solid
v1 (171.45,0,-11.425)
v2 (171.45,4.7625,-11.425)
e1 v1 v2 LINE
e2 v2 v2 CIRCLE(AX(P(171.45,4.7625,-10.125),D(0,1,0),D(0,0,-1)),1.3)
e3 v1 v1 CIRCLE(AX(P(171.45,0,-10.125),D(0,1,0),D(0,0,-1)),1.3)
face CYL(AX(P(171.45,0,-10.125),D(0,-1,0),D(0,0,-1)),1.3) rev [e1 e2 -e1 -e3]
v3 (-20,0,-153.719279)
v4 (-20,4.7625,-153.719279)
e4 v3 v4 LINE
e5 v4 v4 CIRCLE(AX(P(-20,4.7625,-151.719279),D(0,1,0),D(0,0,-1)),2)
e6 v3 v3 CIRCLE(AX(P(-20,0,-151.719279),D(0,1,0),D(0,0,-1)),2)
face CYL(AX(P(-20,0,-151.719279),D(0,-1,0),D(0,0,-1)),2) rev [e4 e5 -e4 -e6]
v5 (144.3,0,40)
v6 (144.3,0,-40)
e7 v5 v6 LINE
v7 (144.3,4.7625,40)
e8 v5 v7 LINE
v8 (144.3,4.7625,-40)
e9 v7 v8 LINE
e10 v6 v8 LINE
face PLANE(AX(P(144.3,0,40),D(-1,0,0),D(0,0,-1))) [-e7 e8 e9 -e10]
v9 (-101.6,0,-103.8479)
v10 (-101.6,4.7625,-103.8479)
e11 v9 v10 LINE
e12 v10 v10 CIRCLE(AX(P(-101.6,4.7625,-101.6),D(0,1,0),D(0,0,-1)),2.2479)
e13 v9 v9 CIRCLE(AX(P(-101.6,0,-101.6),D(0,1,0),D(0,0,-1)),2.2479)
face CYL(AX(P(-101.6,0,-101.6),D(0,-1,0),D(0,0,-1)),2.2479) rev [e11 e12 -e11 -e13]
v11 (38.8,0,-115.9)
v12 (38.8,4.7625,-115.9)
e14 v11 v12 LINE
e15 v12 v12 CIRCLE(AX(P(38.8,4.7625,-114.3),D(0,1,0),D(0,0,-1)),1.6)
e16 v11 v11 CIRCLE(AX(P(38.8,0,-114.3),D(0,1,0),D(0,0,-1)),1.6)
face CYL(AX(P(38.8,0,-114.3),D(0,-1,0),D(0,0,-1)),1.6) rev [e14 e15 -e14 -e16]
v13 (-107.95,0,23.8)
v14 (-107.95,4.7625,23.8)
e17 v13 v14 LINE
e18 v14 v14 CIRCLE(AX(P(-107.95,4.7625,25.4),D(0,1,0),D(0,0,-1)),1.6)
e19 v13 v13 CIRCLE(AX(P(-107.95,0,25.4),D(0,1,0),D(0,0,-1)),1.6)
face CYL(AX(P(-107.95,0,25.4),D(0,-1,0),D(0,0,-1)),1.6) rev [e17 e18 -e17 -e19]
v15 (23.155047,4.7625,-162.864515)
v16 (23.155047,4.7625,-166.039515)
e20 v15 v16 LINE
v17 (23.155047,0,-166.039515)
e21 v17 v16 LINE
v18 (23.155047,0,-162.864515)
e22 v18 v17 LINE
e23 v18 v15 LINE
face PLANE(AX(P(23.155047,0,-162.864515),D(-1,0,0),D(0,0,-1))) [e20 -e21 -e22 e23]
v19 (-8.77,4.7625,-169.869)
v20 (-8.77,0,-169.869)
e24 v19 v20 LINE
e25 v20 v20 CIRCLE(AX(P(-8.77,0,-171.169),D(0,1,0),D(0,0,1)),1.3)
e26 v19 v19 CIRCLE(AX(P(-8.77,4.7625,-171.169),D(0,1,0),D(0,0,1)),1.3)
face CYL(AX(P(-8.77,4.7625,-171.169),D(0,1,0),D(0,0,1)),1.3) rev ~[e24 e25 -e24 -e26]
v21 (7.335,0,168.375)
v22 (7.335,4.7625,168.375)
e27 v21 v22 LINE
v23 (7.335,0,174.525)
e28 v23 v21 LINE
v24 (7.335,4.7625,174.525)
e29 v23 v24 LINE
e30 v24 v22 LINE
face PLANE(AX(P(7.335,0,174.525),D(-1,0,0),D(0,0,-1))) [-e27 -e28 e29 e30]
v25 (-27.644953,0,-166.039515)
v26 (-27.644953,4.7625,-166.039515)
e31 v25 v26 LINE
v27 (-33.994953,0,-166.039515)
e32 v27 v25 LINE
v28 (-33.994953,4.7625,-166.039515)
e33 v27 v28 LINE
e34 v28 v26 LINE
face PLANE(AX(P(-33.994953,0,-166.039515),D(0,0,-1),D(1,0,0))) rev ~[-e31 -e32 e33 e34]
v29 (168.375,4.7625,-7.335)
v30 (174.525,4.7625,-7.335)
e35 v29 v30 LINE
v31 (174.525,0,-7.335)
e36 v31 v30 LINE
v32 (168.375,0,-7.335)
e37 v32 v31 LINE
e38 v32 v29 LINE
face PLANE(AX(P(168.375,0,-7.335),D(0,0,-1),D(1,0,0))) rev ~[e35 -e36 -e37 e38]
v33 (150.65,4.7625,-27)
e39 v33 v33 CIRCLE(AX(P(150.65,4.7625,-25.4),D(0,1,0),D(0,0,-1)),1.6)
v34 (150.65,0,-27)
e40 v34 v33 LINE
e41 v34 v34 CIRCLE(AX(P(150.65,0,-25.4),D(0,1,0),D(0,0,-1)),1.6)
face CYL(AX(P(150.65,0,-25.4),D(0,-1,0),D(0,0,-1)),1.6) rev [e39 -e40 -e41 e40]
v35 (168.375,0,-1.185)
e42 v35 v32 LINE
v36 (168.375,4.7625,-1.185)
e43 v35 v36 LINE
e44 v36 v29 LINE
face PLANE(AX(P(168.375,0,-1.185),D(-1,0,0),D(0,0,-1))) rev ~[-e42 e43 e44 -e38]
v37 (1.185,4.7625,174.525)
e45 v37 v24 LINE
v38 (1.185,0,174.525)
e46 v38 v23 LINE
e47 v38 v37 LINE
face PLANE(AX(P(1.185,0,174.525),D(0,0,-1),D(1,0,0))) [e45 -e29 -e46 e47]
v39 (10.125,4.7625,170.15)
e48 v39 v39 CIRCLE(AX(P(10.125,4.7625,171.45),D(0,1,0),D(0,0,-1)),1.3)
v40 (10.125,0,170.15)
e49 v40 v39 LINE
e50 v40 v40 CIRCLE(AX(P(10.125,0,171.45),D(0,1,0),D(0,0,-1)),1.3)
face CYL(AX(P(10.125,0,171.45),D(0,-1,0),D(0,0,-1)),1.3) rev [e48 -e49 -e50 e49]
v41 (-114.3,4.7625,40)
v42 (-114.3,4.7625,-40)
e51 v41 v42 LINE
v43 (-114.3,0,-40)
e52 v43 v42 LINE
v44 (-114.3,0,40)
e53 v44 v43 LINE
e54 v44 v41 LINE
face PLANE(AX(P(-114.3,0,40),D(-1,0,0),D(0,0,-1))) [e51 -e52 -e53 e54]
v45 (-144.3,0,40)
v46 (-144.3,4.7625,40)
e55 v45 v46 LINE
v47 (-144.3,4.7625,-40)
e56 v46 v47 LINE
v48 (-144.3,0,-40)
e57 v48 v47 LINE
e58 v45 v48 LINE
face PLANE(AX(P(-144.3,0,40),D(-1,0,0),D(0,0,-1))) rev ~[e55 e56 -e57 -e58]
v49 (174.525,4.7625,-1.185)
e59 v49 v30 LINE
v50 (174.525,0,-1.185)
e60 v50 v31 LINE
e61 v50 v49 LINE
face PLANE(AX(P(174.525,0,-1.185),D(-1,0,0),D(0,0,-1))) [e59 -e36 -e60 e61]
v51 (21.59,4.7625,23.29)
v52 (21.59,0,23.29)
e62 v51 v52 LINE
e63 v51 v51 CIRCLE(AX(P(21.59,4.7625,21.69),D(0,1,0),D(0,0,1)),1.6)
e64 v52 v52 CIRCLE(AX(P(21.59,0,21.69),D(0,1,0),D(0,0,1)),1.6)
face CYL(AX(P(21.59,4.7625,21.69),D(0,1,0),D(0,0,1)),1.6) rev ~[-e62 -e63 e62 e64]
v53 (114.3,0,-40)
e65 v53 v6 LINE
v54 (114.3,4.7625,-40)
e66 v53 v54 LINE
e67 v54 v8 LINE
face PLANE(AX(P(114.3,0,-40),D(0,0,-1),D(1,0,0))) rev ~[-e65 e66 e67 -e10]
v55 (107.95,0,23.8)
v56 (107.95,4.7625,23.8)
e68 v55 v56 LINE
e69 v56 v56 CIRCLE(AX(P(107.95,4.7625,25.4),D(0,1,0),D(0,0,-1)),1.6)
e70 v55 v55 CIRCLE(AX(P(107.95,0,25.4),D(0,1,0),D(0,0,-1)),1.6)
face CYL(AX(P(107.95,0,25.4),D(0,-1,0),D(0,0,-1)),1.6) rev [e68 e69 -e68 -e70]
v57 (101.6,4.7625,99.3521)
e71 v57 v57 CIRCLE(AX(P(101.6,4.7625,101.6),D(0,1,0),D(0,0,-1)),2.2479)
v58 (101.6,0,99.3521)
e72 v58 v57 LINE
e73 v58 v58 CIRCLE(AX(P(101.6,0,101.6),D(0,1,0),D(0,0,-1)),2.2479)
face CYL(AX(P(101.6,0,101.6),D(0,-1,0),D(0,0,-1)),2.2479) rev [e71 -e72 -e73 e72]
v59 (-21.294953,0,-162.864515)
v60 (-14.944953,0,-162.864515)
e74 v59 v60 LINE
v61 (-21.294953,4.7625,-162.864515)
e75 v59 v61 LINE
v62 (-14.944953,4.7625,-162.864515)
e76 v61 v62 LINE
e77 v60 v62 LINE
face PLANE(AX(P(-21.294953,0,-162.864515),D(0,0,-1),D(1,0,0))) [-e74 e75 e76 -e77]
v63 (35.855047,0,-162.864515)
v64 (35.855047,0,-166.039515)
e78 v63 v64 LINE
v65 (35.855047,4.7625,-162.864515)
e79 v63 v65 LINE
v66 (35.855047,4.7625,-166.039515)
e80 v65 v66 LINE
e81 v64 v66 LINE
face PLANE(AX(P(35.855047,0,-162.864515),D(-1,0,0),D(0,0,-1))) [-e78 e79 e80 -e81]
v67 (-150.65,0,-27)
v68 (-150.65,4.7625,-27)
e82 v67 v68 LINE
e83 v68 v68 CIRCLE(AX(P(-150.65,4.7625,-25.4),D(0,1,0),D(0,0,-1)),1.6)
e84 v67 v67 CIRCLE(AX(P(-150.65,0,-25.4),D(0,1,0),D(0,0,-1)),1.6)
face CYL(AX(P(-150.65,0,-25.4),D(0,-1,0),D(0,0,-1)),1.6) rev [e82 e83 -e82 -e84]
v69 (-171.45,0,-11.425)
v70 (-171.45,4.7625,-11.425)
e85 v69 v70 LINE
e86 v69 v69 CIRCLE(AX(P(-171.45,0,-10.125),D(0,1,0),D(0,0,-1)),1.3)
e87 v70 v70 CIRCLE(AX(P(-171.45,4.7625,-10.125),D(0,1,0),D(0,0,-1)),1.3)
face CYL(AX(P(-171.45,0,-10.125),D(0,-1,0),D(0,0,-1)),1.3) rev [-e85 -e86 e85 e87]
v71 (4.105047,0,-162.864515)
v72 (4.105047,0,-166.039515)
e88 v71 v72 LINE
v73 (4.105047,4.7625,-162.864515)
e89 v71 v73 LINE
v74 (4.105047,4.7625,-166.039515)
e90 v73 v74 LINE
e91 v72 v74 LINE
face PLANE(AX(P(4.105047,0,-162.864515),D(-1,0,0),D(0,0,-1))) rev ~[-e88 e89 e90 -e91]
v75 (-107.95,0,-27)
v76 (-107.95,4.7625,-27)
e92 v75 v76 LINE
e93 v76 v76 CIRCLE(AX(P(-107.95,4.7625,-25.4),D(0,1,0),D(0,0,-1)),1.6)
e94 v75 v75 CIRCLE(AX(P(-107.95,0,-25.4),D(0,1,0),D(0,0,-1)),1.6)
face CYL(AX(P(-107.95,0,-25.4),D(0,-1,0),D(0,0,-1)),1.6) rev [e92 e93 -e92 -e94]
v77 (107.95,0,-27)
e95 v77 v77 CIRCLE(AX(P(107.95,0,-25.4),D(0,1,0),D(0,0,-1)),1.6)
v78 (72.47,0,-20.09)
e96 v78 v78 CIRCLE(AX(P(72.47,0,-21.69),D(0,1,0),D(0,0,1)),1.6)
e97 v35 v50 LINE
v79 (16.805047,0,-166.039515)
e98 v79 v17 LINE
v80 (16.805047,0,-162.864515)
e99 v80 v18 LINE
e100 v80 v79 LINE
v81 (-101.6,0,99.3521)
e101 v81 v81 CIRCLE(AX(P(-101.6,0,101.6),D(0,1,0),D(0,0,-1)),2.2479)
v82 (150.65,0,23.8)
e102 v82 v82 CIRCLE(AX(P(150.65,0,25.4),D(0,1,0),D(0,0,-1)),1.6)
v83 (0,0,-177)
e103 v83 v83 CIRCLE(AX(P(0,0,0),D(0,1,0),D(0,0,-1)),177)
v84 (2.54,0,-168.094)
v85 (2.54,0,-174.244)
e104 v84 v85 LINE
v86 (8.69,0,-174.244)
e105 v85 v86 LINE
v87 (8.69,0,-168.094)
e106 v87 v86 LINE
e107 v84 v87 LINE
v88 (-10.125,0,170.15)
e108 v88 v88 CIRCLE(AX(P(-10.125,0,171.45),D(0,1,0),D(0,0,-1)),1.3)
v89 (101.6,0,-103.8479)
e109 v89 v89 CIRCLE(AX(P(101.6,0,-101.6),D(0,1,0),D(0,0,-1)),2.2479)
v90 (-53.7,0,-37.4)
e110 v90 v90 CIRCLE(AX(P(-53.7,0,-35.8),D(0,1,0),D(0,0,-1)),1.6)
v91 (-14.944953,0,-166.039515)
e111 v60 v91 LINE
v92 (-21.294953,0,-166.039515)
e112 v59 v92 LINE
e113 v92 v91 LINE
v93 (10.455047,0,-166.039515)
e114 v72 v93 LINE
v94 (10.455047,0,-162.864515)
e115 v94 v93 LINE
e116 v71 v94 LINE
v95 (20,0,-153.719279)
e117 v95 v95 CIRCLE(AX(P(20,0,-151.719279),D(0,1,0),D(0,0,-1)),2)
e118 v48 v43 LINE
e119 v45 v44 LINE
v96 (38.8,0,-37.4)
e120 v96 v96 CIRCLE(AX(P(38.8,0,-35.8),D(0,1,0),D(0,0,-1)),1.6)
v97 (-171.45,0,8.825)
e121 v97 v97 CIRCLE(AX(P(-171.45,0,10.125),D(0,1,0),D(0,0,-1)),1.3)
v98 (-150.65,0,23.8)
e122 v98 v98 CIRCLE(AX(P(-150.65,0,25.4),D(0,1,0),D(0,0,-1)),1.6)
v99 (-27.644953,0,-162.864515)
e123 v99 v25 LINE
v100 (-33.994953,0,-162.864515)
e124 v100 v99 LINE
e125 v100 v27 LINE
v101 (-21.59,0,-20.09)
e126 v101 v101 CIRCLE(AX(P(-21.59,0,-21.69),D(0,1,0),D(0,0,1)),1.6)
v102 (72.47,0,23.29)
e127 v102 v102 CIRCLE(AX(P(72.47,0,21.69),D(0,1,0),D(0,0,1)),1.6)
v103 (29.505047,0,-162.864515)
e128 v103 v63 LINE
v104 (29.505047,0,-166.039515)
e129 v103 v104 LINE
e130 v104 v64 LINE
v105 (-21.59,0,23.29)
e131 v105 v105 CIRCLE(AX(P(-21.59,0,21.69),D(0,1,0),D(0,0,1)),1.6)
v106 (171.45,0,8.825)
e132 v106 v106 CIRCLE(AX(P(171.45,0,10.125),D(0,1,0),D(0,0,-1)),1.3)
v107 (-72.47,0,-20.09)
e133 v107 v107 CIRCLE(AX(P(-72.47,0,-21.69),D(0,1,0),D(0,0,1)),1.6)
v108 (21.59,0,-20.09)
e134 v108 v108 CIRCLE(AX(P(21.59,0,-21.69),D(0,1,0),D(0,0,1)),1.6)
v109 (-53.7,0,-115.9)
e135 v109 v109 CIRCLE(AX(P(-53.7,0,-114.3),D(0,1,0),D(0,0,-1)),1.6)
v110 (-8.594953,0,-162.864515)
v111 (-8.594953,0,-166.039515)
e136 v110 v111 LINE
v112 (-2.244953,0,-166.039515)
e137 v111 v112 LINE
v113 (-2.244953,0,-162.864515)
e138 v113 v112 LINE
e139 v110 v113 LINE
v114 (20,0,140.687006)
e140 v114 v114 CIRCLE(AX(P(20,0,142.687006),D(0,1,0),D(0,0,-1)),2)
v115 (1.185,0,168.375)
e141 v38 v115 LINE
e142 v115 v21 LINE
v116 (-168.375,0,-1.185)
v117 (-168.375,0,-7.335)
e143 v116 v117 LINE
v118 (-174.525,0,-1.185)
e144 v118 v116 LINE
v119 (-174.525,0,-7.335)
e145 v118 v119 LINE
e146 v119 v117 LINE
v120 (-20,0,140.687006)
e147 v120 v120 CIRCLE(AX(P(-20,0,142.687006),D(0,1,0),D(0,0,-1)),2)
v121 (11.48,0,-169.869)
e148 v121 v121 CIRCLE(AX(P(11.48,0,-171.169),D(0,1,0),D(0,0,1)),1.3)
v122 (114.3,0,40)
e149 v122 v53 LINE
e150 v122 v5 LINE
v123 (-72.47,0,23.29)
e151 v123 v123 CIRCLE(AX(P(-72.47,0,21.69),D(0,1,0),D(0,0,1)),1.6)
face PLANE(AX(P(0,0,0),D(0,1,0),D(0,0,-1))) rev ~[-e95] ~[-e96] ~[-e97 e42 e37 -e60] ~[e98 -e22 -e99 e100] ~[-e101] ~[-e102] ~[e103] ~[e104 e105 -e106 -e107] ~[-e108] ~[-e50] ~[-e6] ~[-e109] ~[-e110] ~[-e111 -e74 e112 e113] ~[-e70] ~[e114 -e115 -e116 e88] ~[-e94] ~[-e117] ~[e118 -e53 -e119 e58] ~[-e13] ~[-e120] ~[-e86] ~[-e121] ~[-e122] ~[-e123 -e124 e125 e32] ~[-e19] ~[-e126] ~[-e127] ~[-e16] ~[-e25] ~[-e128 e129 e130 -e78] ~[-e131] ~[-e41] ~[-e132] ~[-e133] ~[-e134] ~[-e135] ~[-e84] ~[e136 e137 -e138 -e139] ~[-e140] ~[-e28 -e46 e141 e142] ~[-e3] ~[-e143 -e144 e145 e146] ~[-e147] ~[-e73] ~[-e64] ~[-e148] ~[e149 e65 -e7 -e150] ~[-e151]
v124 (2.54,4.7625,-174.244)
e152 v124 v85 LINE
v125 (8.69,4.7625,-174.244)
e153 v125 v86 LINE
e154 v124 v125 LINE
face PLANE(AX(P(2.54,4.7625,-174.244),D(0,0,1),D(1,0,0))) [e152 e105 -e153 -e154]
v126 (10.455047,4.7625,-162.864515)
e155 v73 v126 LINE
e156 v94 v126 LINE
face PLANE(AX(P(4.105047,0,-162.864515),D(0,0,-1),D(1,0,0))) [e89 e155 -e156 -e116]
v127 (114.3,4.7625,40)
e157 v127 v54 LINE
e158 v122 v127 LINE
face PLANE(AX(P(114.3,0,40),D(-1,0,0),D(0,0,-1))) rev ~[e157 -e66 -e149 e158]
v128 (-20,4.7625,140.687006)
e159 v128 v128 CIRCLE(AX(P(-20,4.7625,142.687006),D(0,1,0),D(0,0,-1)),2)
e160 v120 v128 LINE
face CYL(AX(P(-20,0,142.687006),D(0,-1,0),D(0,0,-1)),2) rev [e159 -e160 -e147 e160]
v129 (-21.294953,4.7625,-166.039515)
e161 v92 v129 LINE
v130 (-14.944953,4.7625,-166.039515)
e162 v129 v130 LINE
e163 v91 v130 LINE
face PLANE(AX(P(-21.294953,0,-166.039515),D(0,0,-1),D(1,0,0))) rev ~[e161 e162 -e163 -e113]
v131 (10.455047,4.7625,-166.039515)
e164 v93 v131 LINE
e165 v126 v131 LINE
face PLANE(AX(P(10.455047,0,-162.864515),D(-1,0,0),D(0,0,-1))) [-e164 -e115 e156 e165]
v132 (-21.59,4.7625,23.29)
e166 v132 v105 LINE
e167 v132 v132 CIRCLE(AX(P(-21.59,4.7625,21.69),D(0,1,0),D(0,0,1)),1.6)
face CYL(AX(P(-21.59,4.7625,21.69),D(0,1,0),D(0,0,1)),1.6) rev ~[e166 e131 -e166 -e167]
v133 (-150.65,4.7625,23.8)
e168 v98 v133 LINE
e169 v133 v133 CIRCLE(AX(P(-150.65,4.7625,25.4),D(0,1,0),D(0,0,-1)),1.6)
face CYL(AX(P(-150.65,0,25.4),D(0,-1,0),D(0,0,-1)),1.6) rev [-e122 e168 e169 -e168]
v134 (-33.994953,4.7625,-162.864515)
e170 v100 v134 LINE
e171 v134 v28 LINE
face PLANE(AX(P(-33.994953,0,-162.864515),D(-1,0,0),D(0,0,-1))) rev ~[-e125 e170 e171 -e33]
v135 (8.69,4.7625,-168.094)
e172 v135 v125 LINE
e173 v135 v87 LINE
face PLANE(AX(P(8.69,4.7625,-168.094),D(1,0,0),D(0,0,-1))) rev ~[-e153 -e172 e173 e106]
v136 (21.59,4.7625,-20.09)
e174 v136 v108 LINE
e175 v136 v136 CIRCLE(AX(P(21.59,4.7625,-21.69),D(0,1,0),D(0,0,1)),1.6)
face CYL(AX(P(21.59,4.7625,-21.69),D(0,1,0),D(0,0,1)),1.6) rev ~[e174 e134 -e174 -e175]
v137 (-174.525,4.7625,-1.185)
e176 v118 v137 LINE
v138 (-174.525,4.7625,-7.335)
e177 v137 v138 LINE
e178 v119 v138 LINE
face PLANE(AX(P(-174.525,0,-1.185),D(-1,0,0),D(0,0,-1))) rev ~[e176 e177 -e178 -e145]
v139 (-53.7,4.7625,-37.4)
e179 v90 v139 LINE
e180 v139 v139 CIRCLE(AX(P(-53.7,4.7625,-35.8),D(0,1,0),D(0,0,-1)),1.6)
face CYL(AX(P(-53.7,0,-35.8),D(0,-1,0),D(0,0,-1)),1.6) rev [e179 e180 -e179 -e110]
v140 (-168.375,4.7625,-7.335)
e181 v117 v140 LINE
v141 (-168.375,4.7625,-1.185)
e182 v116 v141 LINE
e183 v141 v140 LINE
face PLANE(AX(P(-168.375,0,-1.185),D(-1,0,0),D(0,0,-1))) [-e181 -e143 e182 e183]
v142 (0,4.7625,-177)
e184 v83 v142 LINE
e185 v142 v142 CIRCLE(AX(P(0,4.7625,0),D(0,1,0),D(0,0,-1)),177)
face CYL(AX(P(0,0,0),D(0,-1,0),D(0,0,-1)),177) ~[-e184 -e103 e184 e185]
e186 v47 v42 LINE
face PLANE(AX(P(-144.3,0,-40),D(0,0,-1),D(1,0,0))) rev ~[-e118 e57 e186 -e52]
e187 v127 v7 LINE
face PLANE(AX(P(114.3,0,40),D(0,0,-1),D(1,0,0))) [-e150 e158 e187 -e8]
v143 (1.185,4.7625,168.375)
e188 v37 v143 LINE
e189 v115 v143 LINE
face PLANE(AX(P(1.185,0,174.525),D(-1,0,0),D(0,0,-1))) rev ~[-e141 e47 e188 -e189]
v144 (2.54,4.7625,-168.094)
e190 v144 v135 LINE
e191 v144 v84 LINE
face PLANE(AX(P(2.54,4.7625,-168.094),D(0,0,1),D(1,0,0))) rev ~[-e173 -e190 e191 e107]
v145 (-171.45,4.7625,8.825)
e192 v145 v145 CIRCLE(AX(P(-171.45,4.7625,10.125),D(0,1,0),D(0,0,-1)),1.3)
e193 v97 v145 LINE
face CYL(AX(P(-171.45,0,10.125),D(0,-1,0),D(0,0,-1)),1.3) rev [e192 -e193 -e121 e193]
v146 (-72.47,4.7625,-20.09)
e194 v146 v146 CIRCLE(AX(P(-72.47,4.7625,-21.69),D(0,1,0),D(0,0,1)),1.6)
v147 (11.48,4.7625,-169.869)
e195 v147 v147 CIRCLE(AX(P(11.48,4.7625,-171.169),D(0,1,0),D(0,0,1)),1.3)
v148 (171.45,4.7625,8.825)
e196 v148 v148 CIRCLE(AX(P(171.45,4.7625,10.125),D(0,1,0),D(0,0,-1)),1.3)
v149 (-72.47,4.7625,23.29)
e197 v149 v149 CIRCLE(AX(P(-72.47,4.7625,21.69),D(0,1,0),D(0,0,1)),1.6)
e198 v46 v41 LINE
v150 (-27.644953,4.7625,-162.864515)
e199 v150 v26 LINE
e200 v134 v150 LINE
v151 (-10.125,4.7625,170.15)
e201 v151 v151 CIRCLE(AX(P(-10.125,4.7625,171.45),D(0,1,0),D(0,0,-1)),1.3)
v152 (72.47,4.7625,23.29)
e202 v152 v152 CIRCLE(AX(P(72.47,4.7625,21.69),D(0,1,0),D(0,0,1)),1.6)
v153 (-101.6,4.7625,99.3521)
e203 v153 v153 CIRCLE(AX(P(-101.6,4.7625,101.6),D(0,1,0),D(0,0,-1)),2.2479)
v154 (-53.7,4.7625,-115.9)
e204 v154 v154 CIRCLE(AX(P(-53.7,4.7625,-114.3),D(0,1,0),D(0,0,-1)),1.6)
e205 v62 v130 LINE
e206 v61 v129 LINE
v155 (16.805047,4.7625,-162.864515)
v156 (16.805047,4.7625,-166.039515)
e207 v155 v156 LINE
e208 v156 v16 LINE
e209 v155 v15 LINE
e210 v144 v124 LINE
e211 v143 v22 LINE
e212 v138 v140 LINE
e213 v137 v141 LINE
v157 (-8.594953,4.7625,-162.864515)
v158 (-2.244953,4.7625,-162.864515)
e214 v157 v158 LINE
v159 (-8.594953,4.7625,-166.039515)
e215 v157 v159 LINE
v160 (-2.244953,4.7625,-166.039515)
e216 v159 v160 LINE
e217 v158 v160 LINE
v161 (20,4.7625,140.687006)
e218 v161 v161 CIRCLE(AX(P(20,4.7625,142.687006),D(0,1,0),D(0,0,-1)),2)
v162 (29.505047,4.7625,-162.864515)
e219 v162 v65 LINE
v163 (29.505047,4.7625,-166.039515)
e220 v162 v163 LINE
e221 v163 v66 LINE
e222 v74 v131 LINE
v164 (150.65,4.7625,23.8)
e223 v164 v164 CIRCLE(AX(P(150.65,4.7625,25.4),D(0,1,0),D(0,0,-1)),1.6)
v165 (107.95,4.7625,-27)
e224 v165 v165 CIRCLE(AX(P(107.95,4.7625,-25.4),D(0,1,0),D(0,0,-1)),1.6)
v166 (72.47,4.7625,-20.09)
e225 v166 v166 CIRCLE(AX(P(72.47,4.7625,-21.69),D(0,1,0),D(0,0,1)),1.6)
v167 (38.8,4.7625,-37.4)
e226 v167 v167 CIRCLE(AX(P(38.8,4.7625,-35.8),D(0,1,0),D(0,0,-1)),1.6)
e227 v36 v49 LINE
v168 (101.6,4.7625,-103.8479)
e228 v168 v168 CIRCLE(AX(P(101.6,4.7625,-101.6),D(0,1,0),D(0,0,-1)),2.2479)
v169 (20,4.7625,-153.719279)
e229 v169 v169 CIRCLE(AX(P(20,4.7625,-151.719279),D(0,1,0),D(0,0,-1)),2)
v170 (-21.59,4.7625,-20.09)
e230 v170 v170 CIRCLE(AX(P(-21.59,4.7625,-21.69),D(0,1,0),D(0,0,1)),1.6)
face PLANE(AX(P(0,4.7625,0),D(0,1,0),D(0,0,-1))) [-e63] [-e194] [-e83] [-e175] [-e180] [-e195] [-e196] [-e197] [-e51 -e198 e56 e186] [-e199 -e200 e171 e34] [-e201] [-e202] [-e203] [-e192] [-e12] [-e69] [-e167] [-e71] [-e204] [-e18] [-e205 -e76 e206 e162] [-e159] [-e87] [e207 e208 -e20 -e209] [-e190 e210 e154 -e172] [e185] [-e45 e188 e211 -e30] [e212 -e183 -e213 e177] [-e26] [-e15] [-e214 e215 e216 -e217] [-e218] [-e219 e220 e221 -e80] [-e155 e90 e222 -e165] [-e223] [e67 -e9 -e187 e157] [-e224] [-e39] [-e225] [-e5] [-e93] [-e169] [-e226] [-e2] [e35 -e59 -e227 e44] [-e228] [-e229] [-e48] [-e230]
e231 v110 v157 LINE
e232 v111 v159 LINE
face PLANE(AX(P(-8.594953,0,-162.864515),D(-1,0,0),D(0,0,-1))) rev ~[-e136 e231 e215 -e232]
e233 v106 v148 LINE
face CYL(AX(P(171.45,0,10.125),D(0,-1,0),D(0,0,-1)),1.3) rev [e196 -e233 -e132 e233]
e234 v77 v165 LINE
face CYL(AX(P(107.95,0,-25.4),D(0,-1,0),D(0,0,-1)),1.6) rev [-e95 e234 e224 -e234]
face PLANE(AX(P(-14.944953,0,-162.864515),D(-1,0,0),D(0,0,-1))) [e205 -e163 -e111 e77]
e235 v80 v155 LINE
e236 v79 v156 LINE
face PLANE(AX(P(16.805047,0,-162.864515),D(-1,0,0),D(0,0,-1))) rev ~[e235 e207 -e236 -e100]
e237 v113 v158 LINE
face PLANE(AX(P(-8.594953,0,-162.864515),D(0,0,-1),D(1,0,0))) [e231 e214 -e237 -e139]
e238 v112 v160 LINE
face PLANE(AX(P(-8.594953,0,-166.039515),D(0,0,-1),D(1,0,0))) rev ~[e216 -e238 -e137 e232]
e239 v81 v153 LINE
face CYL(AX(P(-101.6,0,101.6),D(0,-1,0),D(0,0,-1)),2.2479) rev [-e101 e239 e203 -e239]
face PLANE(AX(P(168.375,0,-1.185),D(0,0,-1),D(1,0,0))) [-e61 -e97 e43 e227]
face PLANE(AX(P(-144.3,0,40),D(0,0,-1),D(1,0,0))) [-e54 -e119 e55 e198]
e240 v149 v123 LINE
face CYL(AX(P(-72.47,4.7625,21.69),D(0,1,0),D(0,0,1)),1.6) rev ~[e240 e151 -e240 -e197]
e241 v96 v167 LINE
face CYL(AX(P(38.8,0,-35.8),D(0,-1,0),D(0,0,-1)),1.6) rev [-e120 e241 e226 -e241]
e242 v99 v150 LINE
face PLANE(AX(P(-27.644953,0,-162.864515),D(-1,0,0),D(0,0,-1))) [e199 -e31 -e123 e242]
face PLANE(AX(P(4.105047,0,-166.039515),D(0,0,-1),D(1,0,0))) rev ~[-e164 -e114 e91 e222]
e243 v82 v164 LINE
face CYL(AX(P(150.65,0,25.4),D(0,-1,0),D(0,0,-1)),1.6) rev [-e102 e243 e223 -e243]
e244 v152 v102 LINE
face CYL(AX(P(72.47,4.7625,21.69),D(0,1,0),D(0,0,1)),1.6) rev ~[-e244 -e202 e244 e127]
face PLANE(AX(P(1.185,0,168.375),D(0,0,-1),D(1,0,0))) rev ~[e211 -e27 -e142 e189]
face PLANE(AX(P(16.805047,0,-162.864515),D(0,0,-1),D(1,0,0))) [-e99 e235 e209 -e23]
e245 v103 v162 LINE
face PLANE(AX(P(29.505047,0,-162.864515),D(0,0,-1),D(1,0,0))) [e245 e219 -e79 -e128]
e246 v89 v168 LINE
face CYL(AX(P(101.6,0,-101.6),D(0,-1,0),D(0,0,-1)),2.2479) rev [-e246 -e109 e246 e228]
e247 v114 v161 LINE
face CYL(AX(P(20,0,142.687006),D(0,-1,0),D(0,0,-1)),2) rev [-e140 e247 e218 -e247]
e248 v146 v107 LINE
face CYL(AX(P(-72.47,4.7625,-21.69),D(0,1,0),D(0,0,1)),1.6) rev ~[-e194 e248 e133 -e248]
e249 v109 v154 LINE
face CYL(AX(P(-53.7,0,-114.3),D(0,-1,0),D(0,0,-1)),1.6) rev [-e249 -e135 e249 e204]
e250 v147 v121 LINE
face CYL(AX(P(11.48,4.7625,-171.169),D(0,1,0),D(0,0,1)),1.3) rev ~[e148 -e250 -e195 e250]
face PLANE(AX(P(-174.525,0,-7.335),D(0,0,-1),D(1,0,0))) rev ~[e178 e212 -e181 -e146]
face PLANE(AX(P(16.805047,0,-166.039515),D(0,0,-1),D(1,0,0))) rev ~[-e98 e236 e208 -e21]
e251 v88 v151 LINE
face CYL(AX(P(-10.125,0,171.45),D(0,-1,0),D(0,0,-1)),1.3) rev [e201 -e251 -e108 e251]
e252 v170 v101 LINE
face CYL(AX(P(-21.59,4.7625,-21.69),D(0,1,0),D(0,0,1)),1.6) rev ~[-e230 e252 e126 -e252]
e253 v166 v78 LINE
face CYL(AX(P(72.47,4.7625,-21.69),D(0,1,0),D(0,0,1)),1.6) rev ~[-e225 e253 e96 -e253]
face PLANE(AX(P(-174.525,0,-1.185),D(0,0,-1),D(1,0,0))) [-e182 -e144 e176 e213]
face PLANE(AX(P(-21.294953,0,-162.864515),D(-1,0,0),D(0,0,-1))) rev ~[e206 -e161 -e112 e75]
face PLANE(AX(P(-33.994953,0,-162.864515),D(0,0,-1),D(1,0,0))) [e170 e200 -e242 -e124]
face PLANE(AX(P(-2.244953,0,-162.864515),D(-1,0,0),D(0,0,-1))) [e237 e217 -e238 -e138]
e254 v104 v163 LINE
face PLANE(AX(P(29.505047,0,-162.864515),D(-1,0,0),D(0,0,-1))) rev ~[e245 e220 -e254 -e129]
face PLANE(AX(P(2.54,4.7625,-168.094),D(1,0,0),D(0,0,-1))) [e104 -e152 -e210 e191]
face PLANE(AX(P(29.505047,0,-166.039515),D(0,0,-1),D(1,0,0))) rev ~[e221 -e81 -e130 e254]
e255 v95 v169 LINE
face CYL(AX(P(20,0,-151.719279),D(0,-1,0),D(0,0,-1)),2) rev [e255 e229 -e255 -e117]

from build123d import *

# Parameters (mm, degrees)
SKETCH1_R           = 177
SKETCH1_R_2         = 1.6
SKETCH1_R_3         = 2.2479
SKETCH1_R_4         = 2.000000064
SKETCH1_R_5         = 1.3
SKETCH1_R_6         = 1.29999994
SKETCH1_W           = 6.15
SKETCH1_H           = 6.15
SKETCH1_W_2         = 30
SKETCH1_H_2         = 80
SKETCH1_W_3         = 6.35
SKETCH1_H_3         = 3.175
BOSS_EXTRUDE1_DEPTH = 4.7625
SKETCH2_R           = 1.599999975
CUT_EXTRUDE1_DEPTH  = 251.361102023
SKETCH3_R           = 1.3
SKETCH3_R_2         = 1.29999994
SKETCH3_W           = 6.15
SKETCH3_H           = 6.15
CUT_EXTRUDE2_DEPTH  = 251.361102023


with BuildPart() as part:
    # Sketch1 → Boss-Extrude1 (new body)
    with BuildSketch(Plane(origin=(0, 0, 0), x_dir=(1, 0, 0), z_dir=(0, 1, 0))):
        with Locations(Location((0, 0, 0), (0, 0, 90))):
            Circle(SKETCH1_R)
        with Locations(Location((-150.65, 25.4, 0), (0, 0, 90))):
            Circle(SKETCH1_R_2, mode=Mode.SUBTRACT)
        with Locations(Location((-150.65, -25.4, 0), (0, 0, 90))):
            Circle(SKETCH1_R_2, mode=Mode.SUBTRACT)
        with Locations(Location((150.65, 25.4, 0), (0, 0, 90))):
            Circle(SKETCH1_R_2, mode=Mode.SUBTRACT)
        with Locations(Location((150.65, -25.4, 0), (0, 0, 90))):
            Circle(SKETCH1_R_2, mode=Mode.SUBTRACT)
        with Locations(Location((-107.95, 25.4, 0), (0, 0, 90))):
            Circle(SKETCH1_R_2, mode=Mode.SUBTRACT)
        with Locations(Location((-107.95, -25.4, 0), (0, 0, 90))):
            Circle(SKETCH1_R_2, mode=Mode.SUBTRACT)
        with Locations(Location((107.95, 25.4, 0), (0, 0, 90))):
            Circle(SKETCH1_R_2, mode=Mode.SUBTRACT)
        with Locations(Location((107.95, -25.4, 0), (0, 0, 90))):
            Circle(SKETCH1_R_2, mode=Mode.SUBTRACT)
        with Locations(Location((-53.7, 114.3, 0), (0, 0, 90))):
            Circle(SKETCH1_R_2, mode=Mode.SUBTRACT)
        with Locations(Location((38.8, 114.3, 0), (0, 0, 90))):
            Circle(SKETCH1_R_2, mode=Mode.SUBTRACT)
        with Locations(Location((-53.7, 35.8, 0), (0, 0, 90))):
            Circle(SKETCH1_R_2, mode=Mode.SUBTRACT)
        with Locations(Location((38.8, 35.8, 0), (0, 0, 90))):
            Circle(SKETCH1_R_2, mode=Mode.SUBTRACT)
        with Locations(Location((-101.6, -101.6, 0), (0, 0, 90))):
            Circle(SKETCH1_R_3, mode=Mode.SUBTRACT)
        with Locations(Location((101.6, -101.6, 0), (0, 0, 90))):
            Circle(SKETCH1_R_3, mode=Mode.SUBTRACT)
        with Locations(Location((-101.6, 101.6, 0), (0, 0, 90))):
            Circle(SKETCH1_R_3, mode=Mode.SUBTRACT)
        with Locations(Location((101.6, 101.6, 0), (0, 0, 90))):
            Circle(SKETCH1_R_3, mode=Mode.SUBTRACT)
        with Locations(Location((-20, -142.687006289, 0), (0, 0, 90))):
            Circle(SKETCH1_R_4, mode=Mode.SUBTRACT)
        with Locations(Location((20, -142.687006289, 0), (0, 0, 90))):
            Circle(SKETCH1_R_4, mode=Mode.SUBTRACT)
        with Locations(Location((-20, 151.719279026, 0), (0, 0, 90))):
            Circle(SKETCH1_R_4, mode=Mode.SUBTRACT)
        with Locations(Location((20, 151.719279026, 0), (0, 0, 90))):
            Circle(SKETCH1_R_4, mode=Mode.SUBTRACT)
        with Locations(Location((-10.125, -171.45, 0), (0, 0, 90))):
            Circle(SKETCH1_R_5, mode=Mode.SUBTRACT)
        with Locations(Location((10.125, -171.45, 0), (0, 0, 90))):
            Circle(SKETCH1_R_6, mode=Mode.SUBTRACT)
        with Locations(Location((171.45, -10.125, 0), (0, 0, 90))):
            Circle(SKETCH1_R_5, mode=Mode.SUBTRACT)
        with Locations(Location((171.45, 10.125, 0), (0, 0, 90))):
            Circle(SKETCH1_R_5, mode=Mode.SUBTRACT)
        with Locations(Location((-171.45, -10.125, 0), (0, 0, 90))):
            Circle(SKETCH1_R_5, mode=Mode.SUBTRACT)
        with Locations(Location((-171.45, 10.125, 0), (0, 0, 90))):
            Circle(SKETCH1_R_5, mode=Mode.SUBTRACT)
        with Locations((171.45, 4.26)):
            Rectangle(SKETCH1_W, SKETCH1_H, mode=Mode.SUBTRACT)
        with Locations((-129.3, 0)):
            Rectangle(SKETCH1_W_2, SKETCH1_H_2, mode=Mode.SUBTRACT)
        with Locations((129.3, 0)):
            Rectangle(SKETCH1_W_2, SKETCH1_H_2, mode=Mode.SUBTRACT)
        with Locations((4.26, -171.45)):
            Rectangle(SKETCH1_W, SKETCH1_H, mode=Mode.SUBTRACT)
        with Locations((-171.45, 4.26)):
            Rectangle(SKETCH1_W, SKETCH1_H, mode=Mode.SUBTRACT)
        with Locations((-18.119952608, 164.452014647)):
            Rectangle(SKETCH1_W_3, SKETCH1_H_3, mode=Mode.SUBTRACT)
        with Locations((-30.819952608, 164.452014647)):
            Rectangle(SKETCH1_W_3, SKETCH1_H_3, mode=Mode.SUBTRACT)
        with Locations((-5.419952608, 164.452014647)):
            Rectangle(SKETCH1_W_3, SKETCH1_H_3, mode=Mode.SUBTRACT)
        with Locations((7.280047392, 164.452014647)):
            Rectangle(SKETCH1_W_3, SKETCH1_H_3, mode=Mode.SUBTRACT)
        with Locations((19.980047392, 164.452014647)):
            Rectangle(SKETCH1_W_3, SKETCH1_H_3, mode=Mode.SUBTRACT)
        with Locations((32.680047392, 164.452014647)):
            Rectangle(SKETCH1_W_3, SKETCH1_H_3, mode=Mode.SUBTRACT)
    extrude(amount=BOSS_EXTRUDE1_DEPTH)

    # Sketch2 → Cut-Extrude1 (cut, through all)
    with BuildSketch(Plane(origin=(0, 4.7625, 0), x_dir=(1, 0, 0), z_dir=(0, 1, 0))):
        with Locations(Location((21.59, 21.689999946, 0), (0, 0, 270))):
            Circle(SKETCH2_R)
        with Locations(Location((21.59, -21.690000054, 0), (0, 0, 270))):
            Circle(SKETCH2_R)
        with Locations(Location((72.470000006, -21.690000054, 0), (0, 0, 270))):
            Circle(SKETCH2_R)
        with Locations(Location((72.470000006, 21.689999946, 0), (0, 0, 270))):
            Circle(SKETCH2_R)
        with Locations(Location((-72.470000006, 21.689999946, 0), (0, 0, 270))):
            Circle(SKETCH2_R)
        with Locations(Location((-72.470000006, -21.690000054, 0), (0, 0, 270))):
            Circle(SKETCH2_R)
        with Locations(Location((-21.59, -21.690000054, 0), (0, 0, 270))):
            Circle(SKETCH2_R)
        with Locations(Location((-21.59, 21.689999946, 0), (0, 0, 270))):
            Circle(SKETCH2_R)
    extrude(amount=-CUT_EXTRUDE1_DEPTH, mode=Mode.SUBTRACT)

    # Sketch3 → Cut-Extrude2 (cut, through all)
    with BuildSketch(Plane(origin=(0, 4.7625, 0), x_dir=(1, 0, 0), z_dir=(0, 1, 0))):
        with Locations(Location((-8.77, 171.169, 0), (0, 0, 270))):
            Circle(SKETCH3_R)
        with Locations(Location((11.48, 171.169, 0), (0, 0, 270))):
            Circle(SKETCH3_R_2)
        with Locations((5.615, 171.169)):
            Rectangle(SKETCH3_W, SKETCH3_H)
    extrude(amount=-CUT_EXTRUDE2_DEPTH, mode=Mode.SUBTRACT)


solid = part.part
